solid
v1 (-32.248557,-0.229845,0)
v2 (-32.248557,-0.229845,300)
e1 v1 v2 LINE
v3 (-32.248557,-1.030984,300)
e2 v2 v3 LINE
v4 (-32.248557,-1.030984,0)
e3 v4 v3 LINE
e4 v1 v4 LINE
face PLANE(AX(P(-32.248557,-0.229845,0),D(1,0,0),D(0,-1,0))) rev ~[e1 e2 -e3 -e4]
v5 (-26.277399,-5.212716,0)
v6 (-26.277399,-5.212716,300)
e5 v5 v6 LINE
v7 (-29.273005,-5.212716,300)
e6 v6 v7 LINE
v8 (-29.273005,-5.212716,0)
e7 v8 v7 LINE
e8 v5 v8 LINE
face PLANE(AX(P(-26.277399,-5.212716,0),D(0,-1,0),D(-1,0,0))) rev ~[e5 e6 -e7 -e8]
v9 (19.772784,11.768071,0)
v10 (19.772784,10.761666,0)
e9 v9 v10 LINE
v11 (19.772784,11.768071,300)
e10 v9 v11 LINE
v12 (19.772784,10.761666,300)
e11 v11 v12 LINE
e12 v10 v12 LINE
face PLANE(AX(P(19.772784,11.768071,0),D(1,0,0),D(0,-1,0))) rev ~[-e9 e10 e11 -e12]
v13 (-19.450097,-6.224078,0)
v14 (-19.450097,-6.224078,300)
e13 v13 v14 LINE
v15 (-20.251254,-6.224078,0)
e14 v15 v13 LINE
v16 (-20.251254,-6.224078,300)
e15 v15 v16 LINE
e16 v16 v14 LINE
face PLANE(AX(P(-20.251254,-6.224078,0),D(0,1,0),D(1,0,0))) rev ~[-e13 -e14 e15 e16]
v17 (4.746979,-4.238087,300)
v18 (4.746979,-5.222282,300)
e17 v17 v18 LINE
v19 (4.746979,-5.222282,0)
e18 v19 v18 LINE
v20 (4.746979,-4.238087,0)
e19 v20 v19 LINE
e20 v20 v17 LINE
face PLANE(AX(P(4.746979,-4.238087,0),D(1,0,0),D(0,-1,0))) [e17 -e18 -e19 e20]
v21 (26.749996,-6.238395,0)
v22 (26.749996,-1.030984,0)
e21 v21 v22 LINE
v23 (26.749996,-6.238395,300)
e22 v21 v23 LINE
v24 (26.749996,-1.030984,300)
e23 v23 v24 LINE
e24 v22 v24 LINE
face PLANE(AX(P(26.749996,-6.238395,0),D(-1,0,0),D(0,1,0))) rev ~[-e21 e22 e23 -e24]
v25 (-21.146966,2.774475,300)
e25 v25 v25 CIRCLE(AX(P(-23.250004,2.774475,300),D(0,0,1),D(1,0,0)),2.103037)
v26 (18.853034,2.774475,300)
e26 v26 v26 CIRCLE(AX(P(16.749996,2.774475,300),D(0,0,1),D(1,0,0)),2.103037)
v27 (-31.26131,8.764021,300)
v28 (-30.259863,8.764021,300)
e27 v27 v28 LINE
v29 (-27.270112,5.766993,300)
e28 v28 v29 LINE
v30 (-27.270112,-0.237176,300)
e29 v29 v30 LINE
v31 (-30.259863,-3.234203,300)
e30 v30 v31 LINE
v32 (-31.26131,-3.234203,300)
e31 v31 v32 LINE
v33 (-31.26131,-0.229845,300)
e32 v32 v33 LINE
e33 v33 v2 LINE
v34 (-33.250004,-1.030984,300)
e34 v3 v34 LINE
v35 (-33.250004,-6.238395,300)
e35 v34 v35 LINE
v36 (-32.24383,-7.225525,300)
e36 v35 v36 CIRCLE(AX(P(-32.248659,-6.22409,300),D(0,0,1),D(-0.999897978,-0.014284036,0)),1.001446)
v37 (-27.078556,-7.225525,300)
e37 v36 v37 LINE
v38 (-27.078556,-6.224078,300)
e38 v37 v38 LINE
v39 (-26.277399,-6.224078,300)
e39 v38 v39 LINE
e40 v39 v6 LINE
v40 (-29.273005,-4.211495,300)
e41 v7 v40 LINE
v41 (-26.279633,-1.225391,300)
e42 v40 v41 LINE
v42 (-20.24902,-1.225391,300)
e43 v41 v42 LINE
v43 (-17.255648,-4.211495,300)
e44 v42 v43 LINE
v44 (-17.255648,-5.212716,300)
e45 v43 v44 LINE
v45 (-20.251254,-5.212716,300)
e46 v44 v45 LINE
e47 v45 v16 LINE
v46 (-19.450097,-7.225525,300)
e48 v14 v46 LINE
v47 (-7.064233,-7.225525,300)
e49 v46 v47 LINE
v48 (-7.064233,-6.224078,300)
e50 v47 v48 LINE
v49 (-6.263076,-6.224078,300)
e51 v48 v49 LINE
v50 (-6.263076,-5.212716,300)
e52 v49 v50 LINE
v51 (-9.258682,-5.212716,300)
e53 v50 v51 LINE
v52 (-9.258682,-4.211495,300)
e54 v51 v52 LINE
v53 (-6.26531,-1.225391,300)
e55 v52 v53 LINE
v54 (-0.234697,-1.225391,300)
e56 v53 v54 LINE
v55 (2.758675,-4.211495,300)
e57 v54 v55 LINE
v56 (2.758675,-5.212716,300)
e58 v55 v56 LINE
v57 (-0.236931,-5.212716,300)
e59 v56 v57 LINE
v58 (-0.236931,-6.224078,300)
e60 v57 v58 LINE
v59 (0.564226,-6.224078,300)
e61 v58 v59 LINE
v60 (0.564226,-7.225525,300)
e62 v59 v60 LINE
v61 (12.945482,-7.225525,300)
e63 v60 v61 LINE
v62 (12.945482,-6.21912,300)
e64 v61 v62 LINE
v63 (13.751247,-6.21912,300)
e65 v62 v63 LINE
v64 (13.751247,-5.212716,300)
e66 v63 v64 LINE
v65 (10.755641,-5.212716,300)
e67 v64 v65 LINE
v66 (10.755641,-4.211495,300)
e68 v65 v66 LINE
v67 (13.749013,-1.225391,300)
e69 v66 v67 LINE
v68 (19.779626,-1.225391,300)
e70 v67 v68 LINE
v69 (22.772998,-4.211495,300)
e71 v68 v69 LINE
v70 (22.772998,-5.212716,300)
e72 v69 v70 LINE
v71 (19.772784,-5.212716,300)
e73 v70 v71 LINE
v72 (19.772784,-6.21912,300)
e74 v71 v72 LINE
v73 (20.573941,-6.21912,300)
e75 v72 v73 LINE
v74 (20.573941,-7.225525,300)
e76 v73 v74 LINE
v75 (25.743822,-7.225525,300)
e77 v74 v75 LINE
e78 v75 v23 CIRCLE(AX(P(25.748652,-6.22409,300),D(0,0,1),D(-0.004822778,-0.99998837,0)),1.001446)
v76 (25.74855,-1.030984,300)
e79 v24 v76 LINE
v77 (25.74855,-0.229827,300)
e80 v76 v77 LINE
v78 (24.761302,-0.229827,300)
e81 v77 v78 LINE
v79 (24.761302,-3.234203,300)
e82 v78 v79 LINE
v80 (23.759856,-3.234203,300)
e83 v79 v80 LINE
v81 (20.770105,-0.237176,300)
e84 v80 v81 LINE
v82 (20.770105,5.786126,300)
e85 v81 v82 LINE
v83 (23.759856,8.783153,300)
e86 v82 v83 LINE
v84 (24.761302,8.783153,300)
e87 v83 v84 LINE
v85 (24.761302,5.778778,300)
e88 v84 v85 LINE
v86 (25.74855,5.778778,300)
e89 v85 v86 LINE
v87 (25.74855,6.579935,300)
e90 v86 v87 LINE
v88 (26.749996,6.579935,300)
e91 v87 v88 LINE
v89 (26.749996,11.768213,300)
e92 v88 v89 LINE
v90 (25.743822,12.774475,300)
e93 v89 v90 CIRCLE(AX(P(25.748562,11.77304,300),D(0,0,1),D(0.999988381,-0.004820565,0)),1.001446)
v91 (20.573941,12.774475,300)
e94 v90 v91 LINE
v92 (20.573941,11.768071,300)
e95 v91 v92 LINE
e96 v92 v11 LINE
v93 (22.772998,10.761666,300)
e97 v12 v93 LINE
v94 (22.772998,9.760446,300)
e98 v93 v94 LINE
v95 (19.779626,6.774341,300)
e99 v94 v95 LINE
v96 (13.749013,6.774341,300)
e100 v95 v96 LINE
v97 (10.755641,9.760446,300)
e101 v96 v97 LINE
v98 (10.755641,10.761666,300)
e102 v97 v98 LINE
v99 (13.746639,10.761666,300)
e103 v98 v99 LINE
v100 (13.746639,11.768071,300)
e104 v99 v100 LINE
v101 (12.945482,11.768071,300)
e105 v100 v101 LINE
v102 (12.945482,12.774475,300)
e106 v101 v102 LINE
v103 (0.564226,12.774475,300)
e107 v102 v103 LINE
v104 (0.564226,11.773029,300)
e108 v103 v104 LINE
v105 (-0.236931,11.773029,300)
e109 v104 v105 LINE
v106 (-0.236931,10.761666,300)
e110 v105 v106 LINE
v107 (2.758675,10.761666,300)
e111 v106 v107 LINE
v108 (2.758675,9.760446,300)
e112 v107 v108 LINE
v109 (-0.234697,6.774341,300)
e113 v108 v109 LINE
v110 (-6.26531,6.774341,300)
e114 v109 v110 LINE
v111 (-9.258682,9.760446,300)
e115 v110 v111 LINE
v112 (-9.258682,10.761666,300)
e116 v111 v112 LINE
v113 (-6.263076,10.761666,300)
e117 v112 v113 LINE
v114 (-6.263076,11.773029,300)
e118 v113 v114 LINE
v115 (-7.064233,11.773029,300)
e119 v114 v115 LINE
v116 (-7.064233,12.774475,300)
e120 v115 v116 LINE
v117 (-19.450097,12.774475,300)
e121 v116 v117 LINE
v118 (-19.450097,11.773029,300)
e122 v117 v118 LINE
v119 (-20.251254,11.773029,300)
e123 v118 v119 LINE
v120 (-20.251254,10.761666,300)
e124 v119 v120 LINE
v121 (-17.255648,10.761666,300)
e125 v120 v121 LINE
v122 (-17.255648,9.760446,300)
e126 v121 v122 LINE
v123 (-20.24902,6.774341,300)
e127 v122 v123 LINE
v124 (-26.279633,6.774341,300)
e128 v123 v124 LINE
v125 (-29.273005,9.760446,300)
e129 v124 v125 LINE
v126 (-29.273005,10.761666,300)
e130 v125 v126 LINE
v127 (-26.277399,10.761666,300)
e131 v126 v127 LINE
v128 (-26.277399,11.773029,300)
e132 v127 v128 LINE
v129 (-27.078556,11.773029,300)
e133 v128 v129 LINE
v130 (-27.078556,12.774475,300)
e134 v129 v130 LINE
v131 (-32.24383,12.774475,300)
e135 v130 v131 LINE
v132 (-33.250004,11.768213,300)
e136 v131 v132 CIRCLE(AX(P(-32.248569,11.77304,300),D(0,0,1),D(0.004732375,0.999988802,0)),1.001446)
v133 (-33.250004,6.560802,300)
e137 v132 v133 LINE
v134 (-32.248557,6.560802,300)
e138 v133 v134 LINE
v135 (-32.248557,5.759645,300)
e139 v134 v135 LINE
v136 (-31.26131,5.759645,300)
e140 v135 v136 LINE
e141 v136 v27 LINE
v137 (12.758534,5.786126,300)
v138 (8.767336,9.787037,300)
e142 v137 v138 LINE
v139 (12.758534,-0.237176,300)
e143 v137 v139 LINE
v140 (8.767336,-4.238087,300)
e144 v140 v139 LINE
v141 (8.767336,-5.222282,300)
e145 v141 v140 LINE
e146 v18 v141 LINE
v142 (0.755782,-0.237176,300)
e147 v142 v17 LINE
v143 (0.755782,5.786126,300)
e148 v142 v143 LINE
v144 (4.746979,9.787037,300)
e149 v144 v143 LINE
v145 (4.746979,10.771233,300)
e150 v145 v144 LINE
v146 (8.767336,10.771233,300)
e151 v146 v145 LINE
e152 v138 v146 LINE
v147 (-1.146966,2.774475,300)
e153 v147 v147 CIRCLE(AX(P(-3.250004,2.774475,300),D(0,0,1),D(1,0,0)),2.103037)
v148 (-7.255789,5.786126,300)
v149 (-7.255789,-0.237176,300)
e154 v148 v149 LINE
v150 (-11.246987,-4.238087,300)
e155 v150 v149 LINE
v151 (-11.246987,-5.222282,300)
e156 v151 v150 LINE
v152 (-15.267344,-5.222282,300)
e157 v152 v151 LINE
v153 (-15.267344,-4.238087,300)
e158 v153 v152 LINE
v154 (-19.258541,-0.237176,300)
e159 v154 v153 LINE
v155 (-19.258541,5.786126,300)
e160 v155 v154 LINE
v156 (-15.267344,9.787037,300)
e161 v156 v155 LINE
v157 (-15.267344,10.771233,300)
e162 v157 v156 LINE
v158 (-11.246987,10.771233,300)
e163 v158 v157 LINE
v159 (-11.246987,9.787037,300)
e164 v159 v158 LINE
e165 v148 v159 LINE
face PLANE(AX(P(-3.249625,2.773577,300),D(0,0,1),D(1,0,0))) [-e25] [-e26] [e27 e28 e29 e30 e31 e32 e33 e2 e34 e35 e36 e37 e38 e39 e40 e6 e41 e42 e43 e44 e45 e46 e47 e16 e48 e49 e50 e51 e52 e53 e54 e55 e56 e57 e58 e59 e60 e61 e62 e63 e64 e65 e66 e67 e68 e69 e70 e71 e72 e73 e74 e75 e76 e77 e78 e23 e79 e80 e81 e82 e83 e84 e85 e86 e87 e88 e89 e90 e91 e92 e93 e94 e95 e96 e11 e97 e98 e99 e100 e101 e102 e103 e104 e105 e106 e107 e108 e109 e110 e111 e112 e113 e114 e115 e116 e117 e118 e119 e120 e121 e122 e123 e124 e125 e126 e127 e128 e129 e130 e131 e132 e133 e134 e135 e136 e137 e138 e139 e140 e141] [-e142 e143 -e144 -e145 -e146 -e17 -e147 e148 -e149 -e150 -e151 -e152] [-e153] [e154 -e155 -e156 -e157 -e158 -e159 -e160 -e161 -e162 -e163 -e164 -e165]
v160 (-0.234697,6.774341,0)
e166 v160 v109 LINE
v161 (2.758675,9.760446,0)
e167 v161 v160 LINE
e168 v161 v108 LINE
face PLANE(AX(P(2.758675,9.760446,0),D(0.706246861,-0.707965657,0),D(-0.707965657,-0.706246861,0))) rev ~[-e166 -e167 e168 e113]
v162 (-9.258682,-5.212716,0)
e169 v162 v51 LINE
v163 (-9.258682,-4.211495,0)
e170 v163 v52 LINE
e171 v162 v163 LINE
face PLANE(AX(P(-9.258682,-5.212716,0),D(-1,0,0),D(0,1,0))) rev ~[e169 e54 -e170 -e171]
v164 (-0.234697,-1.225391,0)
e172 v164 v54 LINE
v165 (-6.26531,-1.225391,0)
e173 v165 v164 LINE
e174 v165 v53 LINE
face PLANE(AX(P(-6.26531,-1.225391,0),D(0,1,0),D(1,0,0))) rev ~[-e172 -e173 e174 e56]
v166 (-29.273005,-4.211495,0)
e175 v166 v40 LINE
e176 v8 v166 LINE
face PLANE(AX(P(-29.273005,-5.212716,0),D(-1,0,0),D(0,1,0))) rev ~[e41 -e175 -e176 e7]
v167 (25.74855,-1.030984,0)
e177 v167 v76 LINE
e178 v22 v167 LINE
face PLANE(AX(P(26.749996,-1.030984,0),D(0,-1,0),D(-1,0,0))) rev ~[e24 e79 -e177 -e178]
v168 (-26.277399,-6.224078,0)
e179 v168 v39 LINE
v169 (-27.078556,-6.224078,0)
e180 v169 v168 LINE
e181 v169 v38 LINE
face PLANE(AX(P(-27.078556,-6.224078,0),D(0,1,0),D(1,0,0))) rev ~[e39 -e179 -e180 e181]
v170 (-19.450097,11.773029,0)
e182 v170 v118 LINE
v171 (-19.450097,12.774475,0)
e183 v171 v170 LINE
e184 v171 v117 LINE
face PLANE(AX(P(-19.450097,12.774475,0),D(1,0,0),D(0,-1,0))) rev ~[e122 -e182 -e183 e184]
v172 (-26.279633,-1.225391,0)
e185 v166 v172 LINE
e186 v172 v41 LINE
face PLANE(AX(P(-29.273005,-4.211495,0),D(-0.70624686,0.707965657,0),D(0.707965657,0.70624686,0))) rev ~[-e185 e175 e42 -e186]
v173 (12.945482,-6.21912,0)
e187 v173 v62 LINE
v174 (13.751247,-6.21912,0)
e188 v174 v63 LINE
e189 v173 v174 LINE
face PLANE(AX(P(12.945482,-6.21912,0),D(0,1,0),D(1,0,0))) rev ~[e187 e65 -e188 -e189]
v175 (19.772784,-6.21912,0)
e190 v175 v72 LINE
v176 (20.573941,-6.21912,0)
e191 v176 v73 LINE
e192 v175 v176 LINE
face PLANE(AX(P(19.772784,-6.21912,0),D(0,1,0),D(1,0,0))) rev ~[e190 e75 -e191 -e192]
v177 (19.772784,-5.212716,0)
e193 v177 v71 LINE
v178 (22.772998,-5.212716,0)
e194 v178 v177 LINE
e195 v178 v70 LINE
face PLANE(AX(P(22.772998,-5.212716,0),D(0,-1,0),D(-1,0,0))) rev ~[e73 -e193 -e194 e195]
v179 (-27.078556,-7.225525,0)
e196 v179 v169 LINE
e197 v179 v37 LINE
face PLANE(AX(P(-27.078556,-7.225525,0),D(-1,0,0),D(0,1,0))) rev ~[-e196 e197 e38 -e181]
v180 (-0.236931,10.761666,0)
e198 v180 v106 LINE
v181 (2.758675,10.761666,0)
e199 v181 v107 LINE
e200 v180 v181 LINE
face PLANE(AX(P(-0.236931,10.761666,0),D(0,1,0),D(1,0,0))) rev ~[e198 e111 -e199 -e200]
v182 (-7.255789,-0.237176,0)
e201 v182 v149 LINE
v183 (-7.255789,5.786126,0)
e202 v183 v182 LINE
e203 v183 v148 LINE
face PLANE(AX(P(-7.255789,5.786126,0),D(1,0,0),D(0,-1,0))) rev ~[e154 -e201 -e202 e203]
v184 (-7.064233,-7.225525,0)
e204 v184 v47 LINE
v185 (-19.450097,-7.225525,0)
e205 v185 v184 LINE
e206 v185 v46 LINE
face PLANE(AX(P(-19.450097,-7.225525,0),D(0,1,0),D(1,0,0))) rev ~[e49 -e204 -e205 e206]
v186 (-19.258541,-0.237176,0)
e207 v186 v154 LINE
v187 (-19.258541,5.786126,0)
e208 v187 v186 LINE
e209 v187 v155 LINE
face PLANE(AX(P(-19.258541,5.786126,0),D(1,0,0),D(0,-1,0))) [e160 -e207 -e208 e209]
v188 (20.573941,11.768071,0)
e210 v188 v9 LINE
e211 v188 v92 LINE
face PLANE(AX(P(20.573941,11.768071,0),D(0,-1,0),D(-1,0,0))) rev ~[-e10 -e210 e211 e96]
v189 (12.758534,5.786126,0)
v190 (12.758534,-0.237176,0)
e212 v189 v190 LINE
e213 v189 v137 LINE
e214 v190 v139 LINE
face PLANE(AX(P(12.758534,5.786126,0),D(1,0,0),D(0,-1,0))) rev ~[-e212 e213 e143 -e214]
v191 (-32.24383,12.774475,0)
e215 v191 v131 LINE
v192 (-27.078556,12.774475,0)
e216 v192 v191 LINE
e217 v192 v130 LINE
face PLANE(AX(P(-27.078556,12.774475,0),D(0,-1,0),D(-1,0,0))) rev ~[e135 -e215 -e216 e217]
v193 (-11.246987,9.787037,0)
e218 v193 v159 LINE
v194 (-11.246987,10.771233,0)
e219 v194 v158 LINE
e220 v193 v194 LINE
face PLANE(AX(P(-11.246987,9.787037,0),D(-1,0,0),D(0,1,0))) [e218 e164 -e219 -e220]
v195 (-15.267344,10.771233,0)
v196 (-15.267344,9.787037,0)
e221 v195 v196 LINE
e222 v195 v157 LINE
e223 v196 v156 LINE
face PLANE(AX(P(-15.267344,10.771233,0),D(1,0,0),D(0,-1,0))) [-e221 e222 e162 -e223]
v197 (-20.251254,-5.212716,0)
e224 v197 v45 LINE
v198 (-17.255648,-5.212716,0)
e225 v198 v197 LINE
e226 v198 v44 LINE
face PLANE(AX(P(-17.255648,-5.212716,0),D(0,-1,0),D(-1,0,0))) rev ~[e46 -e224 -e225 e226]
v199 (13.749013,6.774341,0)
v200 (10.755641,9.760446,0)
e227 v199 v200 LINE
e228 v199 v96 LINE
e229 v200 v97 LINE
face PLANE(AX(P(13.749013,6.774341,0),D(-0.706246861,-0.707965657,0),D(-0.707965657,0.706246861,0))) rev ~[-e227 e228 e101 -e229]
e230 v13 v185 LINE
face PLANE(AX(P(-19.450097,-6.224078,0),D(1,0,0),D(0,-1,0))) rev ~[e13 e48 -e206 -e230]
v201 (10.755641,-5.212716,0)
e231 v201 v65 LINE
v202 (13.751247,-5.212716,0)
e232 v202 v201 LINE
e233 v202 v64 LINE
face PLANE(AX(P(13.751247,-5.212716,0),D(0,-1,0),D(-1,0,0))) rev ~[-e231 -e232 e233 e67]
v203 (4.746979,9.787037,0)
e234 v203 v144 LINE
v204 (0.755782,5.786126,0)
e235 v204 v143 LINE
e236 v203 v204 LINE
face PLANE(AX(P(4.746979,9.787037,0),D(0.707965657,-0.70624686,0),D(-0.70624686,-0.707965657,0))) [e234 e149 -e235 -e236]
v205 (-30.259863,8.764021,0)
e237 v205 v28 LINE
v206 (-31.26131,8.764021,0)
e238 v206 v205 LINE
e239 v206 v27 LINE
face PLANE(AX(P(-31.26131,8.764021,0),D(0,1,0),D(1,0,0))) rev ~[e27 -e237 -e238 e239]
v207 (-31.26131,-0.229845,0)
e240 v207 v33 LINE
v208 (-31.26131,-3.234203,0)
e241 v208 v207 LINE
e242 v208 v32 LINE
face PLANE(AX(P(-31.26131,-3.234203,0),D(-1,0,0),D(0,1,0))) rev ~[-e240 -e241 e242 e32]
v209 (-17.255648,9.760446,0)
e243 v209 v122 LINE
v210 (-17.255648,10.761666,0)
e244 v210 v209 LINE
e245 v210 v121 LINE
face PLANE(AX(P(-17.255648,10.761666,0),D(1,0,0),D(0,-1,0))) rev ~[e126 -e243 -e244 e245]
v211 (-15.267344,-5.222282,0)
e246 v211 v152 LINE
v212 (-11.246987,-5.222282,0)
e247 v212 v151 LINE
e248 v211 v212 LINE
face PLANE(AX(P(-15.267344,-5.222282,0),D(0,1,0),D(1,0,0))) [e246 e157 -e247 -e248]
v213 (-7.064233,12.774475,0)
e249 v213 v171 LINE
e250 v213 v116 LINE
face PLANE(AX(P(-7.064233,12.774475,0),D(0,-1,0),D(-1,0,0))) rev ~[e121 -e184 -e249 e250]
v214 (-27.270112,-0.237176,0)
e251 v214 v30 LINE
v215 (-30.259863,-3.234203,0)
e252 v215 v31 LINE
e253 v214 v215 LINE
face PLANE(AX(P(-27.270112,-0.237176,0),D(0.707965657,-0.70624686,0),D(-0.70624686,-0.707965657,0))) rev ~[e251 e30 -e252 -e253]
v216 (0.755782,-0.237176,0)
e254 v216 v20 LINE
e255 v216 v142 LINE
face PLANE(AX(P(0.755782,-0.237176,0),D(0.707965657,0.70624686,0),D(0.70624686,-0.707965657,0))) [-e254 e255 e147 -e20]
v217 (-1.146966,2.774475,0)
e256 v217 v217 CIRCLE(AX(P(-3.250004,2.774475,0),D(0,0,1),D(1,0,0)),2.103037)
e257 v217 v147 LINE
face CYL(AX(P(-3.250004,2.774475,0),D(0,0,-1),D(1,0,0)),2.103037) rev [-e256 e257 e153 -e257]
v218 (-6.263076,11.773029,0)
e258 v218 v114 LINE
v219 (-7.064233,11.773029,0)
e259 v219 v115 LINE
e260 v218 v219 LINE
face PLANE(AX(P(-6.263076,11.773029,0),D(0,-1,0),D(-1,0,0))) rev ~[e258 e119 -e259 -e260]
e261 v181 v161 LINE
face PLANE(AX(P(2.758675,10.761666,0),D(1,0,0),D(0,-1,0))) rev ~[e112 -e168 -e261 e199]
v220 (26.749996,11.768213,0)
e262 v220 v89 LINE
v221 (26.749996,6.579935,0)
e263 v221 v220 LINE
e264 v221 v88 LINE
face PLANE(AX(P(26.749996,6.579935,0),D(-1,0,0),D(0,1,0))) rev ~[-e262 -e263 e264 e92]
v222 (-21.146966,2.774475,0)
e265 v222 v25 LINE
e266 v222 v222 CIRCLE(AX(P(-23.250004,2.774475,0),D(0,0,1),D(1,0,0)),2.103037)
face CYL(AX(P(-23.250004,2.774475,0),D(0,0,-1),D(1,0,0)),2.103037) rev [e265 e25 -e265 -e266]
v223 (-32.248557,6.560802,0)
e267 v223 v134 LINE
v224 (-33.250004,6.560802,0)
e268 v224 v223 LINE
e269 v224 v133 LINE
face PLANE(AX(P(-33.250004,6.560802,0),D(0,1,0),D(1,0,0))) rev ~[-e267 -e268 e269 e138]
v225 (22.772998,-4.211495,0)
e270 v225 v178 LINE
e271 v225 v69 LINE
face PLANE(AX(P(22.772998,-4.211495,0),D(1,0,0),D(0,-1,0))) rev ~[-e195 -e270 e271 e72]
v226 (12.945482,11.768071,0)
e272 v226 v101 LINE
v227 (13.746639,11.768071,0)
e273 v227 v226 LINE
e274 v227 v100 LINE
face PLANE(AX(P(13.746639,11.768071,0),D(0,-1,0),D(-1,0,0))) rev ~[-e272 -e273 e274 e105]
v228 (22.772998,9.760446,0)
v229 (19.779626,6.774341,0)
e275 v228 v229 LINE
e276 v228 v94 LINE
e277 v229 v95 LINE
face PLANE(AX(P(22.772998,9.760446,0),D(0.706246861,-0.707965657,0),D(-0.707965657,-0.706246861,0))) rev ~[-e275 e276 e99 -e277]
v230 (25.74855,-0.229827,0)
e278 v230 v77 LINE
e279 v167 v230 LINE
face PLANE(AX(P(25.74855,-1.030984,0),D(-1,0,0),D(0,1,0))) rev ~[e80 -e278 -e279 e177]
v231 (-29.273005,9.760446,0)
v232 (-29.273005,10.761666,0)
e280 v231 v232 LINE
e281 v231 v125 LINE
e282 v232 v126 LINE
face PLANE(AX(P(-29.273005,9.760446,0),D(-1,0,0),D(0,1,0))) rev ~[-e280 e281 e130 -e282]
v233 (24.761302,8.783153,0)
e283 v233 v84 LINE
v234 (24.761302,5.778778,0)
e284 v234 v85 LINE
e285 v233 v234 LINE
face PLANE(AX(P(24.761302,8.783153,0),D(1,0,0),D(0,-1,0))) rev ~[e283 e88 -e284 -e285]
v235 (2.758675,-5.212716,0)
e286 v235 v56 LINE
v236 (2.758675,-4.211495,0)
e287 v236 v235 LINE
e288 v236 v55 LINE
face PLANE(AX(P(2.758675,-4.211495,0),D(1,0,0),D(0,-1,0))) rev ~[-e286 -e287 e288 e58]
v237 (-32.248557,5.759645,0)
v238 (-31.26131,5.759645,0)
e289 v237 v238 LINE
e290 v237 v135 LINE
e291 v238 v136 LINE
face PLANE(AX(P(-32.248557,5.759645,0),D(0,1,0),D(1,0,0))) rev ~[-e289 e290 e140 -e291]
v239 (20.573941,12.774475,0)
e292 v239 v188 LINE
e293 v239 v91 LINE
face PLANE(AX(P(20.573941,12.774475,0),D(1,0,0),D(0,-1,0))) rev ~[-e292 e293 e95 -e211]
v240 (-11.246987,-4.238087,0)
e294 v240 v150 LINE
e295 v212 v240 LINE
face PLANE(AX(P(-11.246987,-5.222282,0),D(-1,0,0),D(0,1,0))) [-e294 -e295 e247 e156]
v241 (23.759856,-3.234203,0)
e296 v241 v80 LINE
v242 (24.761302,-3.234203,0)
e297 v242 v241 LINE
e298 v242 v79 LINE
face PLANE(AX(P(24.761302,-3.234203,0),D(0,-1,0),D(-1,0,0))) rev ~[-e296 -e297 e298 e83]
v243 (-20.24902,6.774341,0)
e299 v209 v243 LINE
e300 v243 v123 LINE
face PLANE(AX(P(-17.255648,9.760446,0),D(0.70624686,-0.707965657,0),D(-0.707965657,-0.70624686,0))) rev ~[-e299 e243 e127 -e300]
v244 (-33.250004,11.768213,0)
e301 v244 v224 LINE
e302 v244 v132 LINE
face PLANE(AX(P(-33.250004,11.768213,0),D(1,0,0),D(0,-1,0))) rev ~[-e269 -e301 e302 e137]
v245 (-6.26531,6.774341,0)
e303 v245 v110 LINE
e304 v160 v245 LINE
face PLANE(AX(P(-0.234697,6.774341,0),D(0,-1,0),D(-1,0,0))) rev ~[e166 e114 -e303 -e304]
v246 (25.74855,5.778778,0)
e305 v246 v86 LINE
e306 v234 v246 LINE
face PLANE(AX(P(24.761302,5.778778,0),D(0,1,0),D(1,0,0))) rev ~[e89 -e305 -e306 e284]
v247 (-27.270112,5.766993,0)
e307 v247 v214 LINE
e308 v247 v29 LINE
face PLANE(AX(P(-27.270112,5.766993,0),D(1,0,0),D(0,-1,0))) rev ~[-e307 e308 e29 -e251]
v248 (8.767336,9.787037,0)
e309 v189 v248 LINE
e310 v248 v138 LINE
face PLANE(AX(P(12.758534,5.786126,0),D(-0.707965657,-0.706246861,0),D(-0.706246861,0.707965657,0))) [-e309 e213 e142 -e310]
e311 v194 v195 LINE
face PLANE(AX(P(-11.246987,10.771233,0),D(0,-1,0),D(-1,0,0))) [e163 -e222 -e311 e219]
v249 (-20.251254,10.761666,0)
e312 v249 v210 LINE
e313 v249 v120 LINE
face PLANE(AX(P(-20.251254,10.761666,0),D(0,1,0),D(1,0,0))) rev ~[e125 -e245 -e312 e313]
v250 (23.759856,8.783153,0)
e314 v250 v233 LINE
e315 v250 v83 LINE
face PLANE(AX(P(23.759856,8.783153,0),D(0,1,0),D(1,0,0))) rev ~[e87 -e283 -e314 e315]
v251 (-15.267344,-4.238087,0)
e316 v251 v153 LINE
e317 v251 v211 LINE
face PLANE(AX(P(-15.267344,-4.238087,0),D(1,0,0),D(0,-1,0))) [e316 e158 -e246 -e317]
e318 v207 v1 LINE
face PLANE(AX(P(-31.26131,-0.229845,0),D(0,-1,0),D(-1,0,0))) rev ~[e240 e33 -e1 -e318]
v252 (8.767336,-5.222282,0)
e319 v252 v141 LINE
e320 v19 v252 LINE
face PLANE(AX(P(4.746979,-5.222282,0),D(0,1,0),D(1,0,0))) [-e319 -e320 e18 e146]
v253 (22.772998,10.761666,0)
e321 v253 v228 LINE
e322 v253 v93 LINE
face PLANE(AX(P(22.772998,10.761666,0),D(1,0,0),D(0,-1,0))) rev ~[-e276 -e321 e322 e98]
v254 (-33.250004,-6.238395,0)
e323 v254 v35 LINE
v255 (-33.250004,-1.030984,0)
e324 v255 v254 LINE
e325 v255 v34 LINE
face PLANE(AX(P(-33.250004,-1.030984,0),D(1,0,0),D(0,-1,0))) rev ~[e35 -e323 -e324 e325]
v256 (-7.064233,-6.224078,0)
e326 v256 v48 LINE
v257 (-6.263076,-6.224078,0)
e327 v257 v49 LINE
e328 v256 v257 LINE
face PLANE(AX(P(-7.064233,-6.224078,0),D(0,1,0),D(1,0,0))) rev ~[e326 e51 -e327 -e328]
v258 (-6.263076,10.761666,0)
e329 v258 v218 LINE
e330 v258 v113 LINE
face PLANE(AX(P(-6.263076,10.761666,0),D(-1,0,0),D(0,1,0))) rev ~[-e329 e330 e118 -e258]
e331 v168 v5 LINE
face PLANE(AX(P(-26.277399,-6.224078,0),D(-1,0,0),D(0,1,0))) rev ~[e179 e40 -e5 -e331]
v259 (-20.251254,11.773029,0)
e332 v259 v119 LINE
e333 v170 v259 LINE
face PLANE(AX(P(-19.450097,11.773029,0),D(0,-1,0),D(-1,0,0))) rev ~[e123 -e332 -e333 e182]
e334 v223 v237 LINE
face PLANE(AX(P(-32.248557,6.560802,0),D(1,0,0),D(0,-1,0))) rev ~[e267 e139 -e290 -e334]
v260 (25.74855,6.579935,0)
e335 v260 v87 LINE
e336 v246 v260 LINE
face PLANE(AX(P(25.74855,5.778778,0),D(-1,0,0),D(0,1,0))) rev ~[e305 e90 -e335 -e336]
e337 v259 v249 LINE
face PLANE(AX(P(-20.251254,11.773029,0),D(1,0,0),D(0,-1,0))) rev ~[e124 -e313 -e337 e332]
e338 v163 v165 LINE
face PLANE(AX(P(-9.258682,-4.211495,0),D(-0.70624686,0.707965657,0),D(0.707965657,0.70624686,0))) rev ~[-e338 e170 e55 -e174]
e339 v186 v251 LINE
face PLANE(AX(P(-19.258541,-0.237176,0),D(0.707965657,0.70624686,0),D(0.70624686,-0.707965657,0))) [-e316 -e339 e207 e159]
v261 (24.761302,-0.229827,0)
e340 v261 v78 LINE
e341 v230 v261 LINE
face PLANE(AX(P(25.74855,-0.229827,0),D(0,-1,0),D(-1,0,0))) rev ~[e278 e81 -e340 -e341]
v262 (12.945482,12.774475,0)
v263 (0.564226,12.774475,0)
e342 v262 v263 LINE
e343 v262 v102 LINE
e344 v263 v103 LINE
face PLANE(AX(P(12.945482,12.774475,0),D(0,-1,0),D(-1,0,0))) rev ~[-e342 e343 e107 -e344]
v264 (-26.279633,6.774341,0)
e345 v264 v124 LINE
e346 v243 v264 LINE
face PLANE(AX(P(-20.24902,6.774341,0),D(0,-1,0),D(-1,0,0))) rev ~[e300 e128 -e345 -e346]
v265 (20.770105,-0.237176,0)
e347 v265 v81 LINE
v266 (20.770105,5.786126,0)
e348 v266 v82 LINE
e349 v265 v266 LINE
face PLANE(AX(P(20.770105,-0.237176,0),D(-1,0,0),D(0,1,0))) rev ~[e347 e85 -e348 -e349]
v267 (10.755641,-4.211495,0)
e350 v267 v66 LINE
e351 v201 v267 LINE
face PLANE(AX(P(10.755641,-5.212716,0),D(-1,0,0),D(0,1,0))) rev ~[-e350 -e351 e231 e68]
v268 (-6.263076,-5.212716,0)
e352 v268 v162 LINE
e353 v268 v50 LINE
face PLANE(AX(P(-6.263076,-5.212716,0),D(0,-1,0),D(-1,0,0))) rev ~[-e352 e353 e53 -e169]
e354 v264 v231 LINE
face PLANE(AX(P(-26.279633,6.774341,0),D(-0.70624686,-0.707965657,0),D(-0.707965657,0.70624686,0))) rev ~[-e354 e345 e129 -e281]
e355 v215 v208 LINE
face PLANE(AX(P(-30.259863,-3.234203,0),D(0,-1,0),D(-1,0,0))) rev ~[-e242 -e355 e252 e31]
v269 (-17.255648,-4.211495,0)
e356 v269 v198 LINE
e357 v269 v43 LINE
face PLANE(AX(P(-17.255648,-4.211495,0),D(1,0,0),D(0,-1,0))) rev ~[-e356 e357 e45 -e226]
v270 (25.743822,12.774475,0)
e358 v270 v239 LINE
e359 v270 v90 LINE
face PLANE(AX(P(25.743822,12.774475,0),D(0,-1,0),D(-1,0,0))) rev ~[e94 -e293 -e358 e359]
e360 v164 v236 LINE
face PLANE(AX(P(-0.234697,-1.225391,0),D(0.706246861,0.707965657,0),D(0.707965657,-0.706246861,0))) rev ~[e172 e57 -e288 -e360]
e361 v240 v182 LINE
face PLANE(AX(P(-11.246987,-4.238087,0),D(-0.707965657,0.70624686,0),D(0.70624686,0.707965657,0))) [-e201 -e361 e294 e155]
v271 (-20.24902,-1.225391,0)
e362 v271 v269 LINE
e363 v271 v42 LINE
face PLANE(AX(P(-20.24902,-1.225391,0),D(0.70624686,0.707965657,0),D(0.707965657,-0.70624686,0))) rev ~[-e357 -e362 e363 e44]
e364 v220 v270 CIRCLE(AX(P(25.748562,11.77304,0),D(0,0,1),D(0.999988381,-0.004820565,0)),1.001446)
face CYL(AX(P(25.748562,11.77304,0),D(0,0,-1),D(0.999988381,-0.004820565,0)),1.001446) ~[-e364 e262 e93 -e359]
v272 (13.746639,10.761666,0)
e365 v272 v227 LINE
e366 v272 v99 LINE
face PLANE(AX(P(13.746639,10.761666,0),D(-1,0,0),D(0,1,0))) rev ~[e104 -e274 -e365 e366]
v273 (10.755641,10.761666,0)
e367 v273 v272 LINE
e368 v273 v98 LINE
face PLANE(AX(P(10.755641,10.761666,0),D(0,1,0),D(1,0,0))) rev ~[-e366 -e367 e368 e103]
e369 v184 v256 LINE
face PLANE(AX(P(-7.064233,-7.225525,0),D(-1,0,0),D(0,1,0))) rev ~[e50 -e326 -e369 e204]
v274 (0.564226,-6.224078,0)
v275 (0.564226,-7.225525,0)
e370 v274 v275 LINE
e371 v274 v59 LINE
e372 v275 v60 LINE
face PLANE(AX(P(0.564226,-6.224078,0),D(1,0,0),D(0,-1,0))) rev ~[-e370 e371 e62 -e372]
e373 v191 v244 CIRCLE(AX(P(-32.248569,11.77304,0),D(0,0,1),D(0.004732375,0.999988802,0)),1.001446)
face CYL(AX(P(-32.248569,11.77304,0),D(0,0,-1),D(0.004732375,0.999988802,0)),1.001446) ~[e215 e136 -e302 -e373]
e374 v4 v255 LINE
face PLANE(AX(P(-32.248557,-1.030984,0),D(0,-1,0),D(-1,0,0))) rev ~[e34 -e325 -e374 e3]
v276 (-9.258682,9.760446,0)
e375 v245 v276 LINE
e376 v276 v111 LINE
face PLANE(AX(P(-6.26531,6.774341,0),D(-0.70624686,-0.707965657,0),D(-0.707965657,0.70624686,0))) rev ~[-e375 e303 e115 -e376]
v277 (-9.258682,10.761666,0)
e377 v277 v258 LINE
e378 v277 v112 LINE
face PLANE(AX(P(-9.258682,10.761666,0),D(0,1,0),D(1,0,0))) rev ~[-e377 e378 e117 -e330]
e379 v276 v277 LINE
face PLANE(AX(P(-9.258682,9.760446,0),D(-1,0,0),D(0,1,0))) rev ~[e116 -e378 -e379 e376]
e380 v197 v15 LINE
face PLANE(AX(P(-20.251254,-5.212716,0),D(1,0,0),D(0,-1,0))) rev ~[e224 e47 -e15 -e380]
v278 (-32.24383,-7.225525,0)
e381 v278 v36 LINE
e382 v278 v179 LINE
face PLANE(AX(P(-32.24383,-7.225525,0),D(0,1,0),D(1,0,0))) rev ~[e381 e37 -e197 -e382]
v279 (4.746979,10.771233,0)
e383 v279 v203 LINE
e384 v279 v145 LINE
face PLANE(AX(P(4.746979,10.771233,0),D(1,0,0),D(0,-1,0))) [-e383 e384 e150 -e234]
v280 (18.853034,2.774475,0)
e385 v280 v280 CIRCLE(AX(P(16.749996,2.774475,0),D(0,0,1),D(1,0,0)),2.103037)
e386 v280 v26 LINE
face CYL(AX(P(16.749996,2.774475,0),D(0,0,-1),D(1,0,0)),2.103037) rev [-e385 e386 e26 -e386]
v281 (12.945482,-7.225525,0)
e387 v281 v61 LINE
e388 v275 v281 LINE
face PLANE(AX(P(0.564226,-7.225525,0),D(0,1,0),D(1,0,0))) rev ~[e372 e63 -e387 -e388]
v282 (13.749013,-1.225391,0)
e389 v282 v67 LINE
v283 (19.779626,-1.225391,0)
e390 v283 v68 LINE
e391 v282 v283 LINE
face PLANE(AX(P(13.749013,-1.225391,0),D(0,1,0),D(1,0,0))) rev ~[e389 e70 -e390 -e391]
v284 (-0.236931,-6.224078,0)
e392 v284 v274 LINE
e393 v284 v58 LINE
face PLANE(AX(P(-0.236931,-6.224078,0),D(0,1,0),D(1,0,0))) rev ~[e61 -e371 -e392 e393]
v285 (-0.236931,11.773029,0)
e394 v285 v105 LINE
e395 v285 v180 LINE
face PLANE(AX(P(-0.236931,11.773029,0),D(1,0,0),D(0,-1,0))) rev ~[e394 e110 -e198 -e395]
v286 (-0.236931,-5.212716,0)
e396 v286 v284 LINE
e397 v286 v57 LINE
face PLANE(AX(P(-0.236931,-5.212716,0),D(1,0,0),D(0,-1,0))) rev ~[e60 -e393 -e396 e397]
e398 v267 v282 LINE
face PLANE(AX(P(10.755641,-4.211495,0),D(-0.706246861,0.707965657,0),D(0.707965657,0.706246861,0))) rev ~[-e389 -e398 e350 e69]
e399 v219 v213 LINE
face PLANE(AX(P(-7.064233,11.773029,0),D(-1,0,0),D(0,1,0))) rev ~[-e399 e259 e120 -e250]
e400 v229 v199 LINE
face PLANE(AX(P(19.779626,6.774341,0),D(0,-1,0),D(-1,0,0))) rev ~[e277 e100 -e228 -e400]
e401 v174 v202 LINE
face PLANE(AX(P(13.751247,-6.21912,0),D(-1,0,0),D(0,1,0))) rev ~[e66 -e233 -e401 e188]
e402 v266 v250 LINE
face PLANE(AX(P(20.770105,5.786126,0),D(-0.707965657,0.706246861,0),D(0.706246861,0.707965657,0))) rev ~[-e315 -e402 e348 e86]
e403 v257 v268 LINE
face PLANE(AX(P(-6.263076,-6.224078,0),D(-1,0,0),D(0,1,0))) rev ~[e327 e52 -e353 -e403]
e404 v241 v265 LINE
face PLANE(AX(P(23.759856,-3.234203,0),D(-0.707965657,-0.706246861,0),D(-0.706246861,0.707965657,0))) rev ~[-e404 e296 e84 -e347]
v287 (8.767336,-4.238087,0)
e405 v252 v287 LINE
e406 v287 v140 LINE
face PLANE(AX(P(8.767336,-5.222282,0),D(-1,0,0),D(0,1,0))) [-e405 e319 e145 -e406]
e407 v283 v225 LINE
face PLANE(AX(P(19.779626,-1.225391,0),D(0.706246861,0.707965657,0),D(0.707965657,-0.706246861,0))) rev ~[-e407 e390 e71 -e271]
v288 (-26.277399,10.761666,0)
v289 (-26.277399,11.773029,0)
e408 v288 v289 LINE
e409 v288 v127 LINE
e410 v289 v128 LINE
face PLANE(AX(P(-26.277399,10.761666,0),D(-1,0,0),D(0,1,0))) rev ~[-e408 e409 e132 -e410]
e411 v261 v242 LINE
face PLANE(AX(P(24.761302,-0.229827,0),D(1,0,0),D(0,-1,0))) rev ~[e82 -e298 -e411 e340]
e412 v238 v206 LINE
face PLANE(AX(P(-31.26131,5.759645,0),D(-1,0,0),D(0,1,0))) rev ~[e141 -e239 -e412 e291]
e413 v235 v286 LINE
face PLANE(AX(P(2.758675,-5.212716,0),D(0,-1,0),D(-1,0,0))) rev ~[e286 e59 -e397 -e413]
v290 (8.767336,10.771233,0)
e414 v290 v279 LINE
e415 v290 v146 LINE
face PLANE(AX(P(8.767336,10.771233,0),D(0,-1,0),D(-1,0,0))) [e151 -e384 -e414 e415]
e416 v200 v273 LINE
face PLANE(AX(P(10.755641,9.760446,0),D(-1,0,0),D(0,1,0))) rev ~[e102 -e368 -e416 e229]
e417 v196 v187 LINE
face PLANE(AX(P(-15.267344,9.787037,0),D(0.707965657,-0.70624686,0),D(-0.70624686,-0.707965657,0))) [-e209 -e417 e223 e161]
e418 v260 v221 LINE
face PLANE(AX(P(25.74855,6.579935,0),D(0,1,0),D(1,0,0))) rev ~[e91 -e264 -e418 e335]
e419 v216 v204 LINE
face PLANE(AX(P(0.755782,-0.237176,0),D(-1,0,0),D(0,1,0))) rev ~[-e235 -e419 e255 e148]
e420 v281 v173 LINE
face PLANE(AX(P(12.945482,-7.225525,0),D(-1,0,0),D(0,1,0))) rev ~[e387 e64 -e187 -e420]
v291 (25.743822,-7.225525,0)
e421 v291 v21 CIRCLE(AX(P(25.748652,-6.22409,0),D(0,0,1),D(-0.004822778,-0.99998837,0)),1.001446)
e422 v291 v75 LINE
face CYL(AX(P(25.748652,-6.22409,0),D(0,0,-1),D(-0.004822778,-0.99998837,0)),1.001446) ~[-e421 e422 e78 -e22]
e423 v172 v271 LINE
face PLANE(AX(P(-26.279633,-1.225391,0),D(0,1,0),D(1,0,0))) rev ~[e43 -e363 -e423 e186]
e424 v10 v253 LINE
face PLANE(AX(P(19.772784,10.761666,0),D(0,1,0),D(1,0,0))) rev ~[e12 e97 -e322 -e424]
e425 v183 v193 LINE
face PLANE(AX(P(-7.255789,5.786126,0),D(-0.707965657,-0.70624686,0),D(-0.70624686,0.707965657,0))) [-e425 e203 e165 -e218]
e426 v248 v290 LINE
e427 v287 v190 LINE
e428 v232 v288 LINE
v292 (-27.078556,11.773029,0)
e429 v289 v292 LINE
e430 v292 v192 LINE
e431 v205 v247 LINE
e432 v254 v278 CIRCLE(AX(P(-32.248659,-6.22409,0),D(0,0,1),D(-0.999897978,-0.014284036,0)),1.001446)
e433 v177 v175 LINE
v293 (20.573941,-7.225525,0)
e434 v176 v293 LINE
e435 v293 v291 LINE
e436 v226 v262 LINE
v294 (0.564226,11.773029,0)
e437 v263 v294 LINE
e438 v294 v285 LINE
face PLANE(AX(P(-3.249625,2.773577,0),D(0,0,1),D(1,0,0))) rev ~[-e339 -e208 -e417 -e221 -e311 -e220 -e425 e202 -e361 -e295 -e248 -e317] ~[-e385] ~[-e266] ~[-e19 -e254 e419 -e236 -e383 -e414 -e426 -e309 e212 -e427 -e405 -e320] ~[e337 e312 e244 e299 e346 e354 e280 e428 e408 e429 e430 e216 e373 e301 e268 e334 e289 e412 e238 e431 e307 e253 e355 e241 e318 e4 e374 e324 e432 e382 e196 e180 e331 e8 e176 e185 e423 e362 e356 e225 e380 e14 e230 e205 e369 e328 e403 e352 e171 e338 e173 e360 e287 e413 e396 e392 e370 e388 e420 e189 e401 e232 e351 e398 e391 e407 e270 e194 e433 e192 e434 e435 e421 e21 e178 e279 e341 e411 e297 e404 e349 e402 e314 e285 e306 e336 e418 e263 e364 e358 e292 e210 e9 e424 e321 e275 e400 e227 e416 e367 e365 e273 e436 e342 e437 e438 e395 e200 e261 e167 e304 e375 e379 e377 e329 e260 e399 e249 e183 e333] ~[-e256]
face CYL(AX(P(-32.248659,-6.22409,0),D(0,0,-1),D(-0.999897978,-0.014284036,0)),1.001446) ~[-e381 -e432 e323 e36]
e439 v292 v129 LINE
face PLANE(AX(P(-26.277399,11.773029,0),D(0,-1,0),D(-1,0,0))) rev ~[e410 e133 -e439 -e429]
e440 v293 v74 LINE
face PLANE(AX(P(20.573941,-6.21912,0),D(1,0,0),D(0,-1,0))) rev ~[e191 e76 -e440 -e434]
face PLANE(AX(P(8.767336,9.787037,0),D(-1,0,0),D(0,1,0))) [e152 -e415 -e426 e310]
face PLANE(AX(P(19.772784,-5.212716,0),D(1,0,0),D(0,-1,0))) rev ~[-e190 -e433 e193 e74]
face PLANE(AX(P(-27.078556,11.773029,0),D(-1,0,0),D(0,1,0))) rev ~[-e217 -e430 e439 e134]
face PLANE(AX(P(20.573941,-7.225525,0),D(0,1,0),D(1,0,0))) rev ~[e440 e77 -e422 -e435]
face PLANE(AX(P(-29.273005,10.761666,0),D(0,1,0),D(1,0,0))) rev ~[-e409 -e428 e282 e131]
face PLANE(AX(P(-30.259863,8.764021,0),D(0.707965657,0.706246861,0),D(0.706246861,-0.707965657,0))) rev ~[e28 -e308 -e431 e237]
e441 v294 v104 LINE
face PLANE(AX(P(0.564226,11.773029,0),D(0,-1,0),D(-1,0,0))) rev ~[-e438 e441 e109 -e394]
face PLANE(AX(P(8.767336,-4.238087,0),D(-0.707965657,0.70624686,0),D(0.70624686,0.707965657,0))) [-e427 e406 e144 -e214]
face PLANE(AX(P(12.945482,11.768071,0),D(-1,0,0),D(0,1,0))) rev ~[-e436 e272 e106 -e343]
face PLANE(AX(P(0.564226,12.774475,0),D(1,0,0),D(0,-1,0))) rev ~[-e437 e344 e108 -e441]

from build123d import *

# Parameters (mm, degrees)
SKETCH_1_R      = 2.103037388
EXTRUDE_1_DEPTH = 300


with BuildPart() as part:
    # 草图1 → 凸台-拉伸1 (new body)
    with BuildSketch(Plane.XY):
        with BuildLine():
            Line((-32.248557314, -0.229845073), (-32.248557314, -1.030984477))
            Line((-32.248557314, -1.030984477), (-33.250003689, -1.030984477))
            Line((-33.250003689, -1.030984477), (-33.250003689, -6.238394755))
            ThreePointArc((-33.250003689, -6.238394755), (-32.949991565, -6.938952391), (-32.24382973, -7.225524788))
            Line((-32.24382973, -7.225524788), (-27.078556151, -7.225524788))
            Line((-27.078556151, -7.225524788), (-27.078556151, -6.224078413))
            Line((-27.078556151, -6.224078413), (-26.277399051, -6.224078413))
            Line((-26.277399051, -6.224078413), (-26.277399051, -5.212715786))
            Line((-26.277399051, -5.212715786), (-29.27300496, -5.212715786))
            Line((-29.27300496, -5.212715786), (-29.27300496, -4.211495229))
            Line((-29.27300496, -4.211495229), (-26.279632969, -1.225390538))
            Line((-26.279632969, -1.225390538), (-20.24902045, -1.225390538))
            Line((-20.24902045, -1.225390538), (-17.255648459, -4.211495229))
            Line((-17.255648459, -4.211495229), (-17.255648459, -5.212715786))
            Line((-17.255648459, -5.212715786), (-20.251254368, -5.212715786))
            Line((-20.251254368, -5.212715786), (-20.251254368, -6.224078413))
            Line((-20.251254368, -6.224078413), (-19.450097268, -6.224078413))
            Line((-19.450097268, -6.224078413), (-19.450097268, -7.225524788))
            Line((-19.450097268, -7.225524788), (-7.064233131, -7.225524788))
            Line((-7.064233131, -7.225524788), (-7.064233131, -6.224078413))
            Line((-7.064233131, -6.224078413), (-6.263076031, -6.224078413))
            Line((-6.263076031, -6.224078413), (-6.263076031, -5.212715786))
            Line((-6.263076031, -5.212715786), (-9.25868194, -5.212715786))
            Line((-9.25868194, -5.212715786), (-9.25868194, -4.211495229))
            Line((-9.25868194, -4.211495229), (-6.265309949, -1.225390538))
            Line((-6.265309949, -1.225390538), (-0.234697429, -1.225390538))
            Line((-0.234697429, -1.225390538), (2.758674561, -4.211495229))
            Line((2.758674561, -4.211495229), (2.758674561, -5.212715786))
            Line((2.758674561, -5.212715786), (-0.236931348, -5.212715786))
            Line((-0.236931348, -5.212715786), (-0.236931348, -6.224078413))
            Line((-0.236931348, -6.224078413), (0.564225752, -6.224078413))
            Line((0.564225752, -6.224078413), (0.564225752, -7.225524788))
            Line((0.564225752, -7.225524788), (12.945482254, -7.225524788))
            Line((12.945482254, -7.225524788), (12.945482254, -6.219120287))
            Line((12.945482254, -6.219120287), (13.751246989, -6.219120287))
            Line((13.751246989, -6.219120287), (13.751246989, -5.212715786))
            Line((13.751246989, -5.212715786), (10.755641081, -5.212715786))
            Line((10.755641081, -5.212715786), (10.755641081, -4.211495229))
            Line((10.755641081, -4.211495229), (13.749013071, -1.225390538))
            Line((13.749013071, -1.225390538), (19.779625591, -1.225390538))
            Line((19.779625591, -1.225390538), (22.772997581, -4.211495229))
            Line((22.772997581, -4.211495229), (22.772997581, -5.212715786))
            Line((22.772997581, -5.212715786), (19.772784037, -5.212715786))
            Line((19.772784037, -5.212715786), (19.772784037, -6.219120287))
            Line((19.772784037, -6.219120287), (20.573941137, -6.219120287))
            Line((20.573941137, -6.219120287), (20.573941137, -7.225524788))
            Line((20.573941137, -7.225524788), (25.743822351, -7.225524788))
            ThreePointArc((25.743822351, -7.225524788), (26.449984187, -6.938952391), (26.749996311, -6.238394755))
            Line((26.749996311, -6.238394755), (26.749996311, -1.030984477))
            Line((26.749996311, -1.030984477), (25.748549936, -1.030984477))
            Line((25.748549936, -1.030984477), (25.748549936, -0.229827377))
            Line((25.748549936, -0.229827377), (24.761302481, -0.229827377))
            Line((24.761302481, -0.229827377), (24.761302481, -3.234203038))
            Line((24.761302481, -3.234203038), (23.759856106, -3.234203038))
            Line((23.759856106, -3.234203038), (20.770104831, -0.237175589))
            Line((20.770104831, -0.237175589), (20.770104831, 5.786126014))
            Line((20.770104831, 5.786126014), (23.759856106, 8.783153462))
            Line((23.759856106, 8.783153462), (24.761302481, 8.783153462))
            Line((24.761302481, 8.783153462), (24.761302481, 5.778777801))
            Line((24.761302481, 5.778777801), (25.748549936, 5.778777801))
            Line((25.748549936, 5.778777801), (25.748549936, 6.579934901))
            Line((25.748549936, 6.579934901), (26.749996311, 6.579934901))
            Line((26.749996311, 6.579934901), (26.749996311, 11.768212512))
            ThreePointArc((26.749996311, 11.768212512), (26.456722319, 12.481138347), (25.743822351, 12.774475212))
            Line((25.743822351, 12.774475212), (20.573941137, 12.774475212))
            Line((20.573941137, 12.774475212), (20.573941137, 11.768070711))
            Line((20.573941137, 11.768070711), (19.772784037, 11.768070711))
            Line((19.772784037, 11.768070711), (19.772784037, 10.761666211))
            Line((19.772784037, 10.761666211), (22.772997581, 10.761666211))
            Line((22.772997581, 10.761666211), (22.772997581, 9.760445653))
            Line((22.772997581, 9.760445653), (19.779625591, 6.774340962))
            Line((19.779625591, 6.774340962), (13.749013071, 6.774340962))
            Line((13.749013071, 6.774340962), (10.755641081, 9.760445653))
            Line((10.755641081, 9.760445653), (10.755641081, 10.761666211))
            Line((10.755641081, 10.761666211), (13.746639354, 10.761666211))
            Line((13.746639354, 10.761666211), (13.746639354, 11.768070711))
            Line((13.746639354, 11.768070711), (12.945482254, 11.768070711))
            Line((12.945482254, 11.768070711), (12.945482254, 12.774475212))
            Line((12.945482254, 12.774475212), (0.564225752, 12.774475212))
            Line((0.564225752, 12.774475212), (0.564225752, 11.773028837))
            Line((0.564225752, 11.773028837), (-0.236931348, 11.773028837))
            Line((-0.236931348, 11.773028837), (-0.236931348, 10.761666211))
            Line((-0.236931348, 10.761666211), (2.758674561, 10.761666211))
            Line((2.758674561, 10.761666211), (2.758674561, 9.760445653))
            Line((2.758674561, 9.760445653), (-0.234697429, 6.774340962))
            Line((-0.234697429, 6.774340962), (-6.265309949, 6.774340962))
            Line((-6.265309949, 6.774340962), (-9.25868194, 9.760445653))
            Line((-9.25868194, 9.760445653), (-9.25868194, 10.761666211))
            Line((-9.25868194, 10.761666211), (-6.263076031, 10.761666211))
            Line((-6.263076031, 10.761666211), (-6.263076031, 11.773028837))
            Line((-6.263076031, 11.773028837), (-7.064233131, 11.773028837))
            Line((-7.064233131, 11.773028837), (-7.064233131, 12.774475212))
            Line((-7.064233131, 12.774475212), (-19.450097268, 12.774475212))
            Line((-19.450097268, 12.774475212), (-19.450097268, 11.773028837))
            Line((-19.450097268, 11.773028837), (-20.251254368, 11.773028837))
            Line((-20.251254368, 11.773028837), (-20.251254368, 10.761666211))
            Line((-20.251254368, 10.761666211), (-17.255648459, 10.761666211))
            Line((-17.255648459, 10.761666211), (-17.255648459, 9.760445653))
            Line((-17.255648459, 9.760445653), (-20.24902045, 6.774340962))
            Line((-20.24902045, 6.774340962), (-26.279632969, 6.774340962))
            Line((-26.279632969, 6.774340962), (-29.27300496, 9.760445653))
            Line((-29.27300496, 9.760445653), (-29.27300496, 10.761666211))
            Line((-29.27300496, 10.761666211), (-26.277399051, 10.761666211))
            Line((-26.277399051, 10.761666211), (-26.277399051, 11.773028837))
            Line((-26.277399051, 11.773028837), (-27.078556151, 11.773028837))
            Line((-27.078556151, 11.773028837), (-27.078556151, 12.774475212))
            Line((-27.078556151, 12.774475212), (-32.24382973, 12.774475212))
            ThreePointArc((-32.24382973, 12.774475212), (-32.956729698, 12.481138347), (-33.250003689, 11.768212512))
            Line((-33.250003689, 11.768212512), (-33.250003689, 6.560802234))
            Line((-33.250003689, 6.560802234), (-32.248557314, 6.560802234))
            Line((-32.248557314, 6.560802234), (-32.248557314, 5.759645134))
            Line((-32.248557314, 5.759645134), (-31.261309859, 5.759645134))
            Line((-31.261309859, 5.759645134), (-31.261309859, 8.764020795))
            Line((-31.261309859, 8.764020795), (-30.259863484, 8.764020795))
            Line((-30.259863484, 8.764020795), (-27.27011221, 5.766993347))
            Line((-27.27011221, 5.766993347), (-27.27011221, -0.237175589))
            Line((-27.27011221, -0.237175589), (-30.259863484, -3.234203038))
            Line((-30.259863484, -3.234203038), (-31.261309859, -3.234203038))
            Line((-31.261309859, -3.234203038), (-31.261309859, -0.229845073))
            Line((-31.261309859, -0.229845073), (-32.248557314, -0.229845073))
        make_face()
        with Locations((-3.250003689, 2.774475212)):
            Circle(SKETCH_1_R, mode=Mode.SUBTRACT)
        with Locations((-23.250003689, 2.774475212)):
            Circle(SKETCH_1_R, mode=Mode.SUBTRACT)
        with Locations((16.749996311, 2.774475212)):
            Circle(SKETCH_1_R, mode=Mode.SUBTRACT)
        Polygon((-19.258541209, 5.786126014), (-19.258541209, -0.237175589), (-15.26734356, -4.238086639), (-15.26734356, -5.22228212), (-11.246986839, -5.22228212), (-11.246986839, -4.238086639), (-7.25578919, -0.237175589), (-7.25578919, 2.774475212), (-7.25578919, 5.786126014), (-11.246986839, 9.787037063), (-11.246986839, 10.771232544), (-15.26734356, 10.771232544), (-15.26734356, 9.787037063), align=None, mode=Mode.SUBTRACT)
        Polygon((4.74697946, -5.22228212), (8.767336181, -5.22228212), (8.767336181, -4.238086639), (12.758533831, -0.237175589), (12.758533831, 2.774475212), (12.758533831, 5.786126014), (8.767336181, 9.787037063), (8.767336181, 10.771232544), (4.74697946, 10.771232544), (4.74697946, 9.787037063), (0.755781811, 5.786126014), (0.755781811, 2.774475212), (0.755781811, -0.237175589), (4.74697946, -4.238086639), align=None, mode=Mode.SUBTRACT)
    extrude(amount=EXTRUDE_1_DEPTH)


solid = part.part
